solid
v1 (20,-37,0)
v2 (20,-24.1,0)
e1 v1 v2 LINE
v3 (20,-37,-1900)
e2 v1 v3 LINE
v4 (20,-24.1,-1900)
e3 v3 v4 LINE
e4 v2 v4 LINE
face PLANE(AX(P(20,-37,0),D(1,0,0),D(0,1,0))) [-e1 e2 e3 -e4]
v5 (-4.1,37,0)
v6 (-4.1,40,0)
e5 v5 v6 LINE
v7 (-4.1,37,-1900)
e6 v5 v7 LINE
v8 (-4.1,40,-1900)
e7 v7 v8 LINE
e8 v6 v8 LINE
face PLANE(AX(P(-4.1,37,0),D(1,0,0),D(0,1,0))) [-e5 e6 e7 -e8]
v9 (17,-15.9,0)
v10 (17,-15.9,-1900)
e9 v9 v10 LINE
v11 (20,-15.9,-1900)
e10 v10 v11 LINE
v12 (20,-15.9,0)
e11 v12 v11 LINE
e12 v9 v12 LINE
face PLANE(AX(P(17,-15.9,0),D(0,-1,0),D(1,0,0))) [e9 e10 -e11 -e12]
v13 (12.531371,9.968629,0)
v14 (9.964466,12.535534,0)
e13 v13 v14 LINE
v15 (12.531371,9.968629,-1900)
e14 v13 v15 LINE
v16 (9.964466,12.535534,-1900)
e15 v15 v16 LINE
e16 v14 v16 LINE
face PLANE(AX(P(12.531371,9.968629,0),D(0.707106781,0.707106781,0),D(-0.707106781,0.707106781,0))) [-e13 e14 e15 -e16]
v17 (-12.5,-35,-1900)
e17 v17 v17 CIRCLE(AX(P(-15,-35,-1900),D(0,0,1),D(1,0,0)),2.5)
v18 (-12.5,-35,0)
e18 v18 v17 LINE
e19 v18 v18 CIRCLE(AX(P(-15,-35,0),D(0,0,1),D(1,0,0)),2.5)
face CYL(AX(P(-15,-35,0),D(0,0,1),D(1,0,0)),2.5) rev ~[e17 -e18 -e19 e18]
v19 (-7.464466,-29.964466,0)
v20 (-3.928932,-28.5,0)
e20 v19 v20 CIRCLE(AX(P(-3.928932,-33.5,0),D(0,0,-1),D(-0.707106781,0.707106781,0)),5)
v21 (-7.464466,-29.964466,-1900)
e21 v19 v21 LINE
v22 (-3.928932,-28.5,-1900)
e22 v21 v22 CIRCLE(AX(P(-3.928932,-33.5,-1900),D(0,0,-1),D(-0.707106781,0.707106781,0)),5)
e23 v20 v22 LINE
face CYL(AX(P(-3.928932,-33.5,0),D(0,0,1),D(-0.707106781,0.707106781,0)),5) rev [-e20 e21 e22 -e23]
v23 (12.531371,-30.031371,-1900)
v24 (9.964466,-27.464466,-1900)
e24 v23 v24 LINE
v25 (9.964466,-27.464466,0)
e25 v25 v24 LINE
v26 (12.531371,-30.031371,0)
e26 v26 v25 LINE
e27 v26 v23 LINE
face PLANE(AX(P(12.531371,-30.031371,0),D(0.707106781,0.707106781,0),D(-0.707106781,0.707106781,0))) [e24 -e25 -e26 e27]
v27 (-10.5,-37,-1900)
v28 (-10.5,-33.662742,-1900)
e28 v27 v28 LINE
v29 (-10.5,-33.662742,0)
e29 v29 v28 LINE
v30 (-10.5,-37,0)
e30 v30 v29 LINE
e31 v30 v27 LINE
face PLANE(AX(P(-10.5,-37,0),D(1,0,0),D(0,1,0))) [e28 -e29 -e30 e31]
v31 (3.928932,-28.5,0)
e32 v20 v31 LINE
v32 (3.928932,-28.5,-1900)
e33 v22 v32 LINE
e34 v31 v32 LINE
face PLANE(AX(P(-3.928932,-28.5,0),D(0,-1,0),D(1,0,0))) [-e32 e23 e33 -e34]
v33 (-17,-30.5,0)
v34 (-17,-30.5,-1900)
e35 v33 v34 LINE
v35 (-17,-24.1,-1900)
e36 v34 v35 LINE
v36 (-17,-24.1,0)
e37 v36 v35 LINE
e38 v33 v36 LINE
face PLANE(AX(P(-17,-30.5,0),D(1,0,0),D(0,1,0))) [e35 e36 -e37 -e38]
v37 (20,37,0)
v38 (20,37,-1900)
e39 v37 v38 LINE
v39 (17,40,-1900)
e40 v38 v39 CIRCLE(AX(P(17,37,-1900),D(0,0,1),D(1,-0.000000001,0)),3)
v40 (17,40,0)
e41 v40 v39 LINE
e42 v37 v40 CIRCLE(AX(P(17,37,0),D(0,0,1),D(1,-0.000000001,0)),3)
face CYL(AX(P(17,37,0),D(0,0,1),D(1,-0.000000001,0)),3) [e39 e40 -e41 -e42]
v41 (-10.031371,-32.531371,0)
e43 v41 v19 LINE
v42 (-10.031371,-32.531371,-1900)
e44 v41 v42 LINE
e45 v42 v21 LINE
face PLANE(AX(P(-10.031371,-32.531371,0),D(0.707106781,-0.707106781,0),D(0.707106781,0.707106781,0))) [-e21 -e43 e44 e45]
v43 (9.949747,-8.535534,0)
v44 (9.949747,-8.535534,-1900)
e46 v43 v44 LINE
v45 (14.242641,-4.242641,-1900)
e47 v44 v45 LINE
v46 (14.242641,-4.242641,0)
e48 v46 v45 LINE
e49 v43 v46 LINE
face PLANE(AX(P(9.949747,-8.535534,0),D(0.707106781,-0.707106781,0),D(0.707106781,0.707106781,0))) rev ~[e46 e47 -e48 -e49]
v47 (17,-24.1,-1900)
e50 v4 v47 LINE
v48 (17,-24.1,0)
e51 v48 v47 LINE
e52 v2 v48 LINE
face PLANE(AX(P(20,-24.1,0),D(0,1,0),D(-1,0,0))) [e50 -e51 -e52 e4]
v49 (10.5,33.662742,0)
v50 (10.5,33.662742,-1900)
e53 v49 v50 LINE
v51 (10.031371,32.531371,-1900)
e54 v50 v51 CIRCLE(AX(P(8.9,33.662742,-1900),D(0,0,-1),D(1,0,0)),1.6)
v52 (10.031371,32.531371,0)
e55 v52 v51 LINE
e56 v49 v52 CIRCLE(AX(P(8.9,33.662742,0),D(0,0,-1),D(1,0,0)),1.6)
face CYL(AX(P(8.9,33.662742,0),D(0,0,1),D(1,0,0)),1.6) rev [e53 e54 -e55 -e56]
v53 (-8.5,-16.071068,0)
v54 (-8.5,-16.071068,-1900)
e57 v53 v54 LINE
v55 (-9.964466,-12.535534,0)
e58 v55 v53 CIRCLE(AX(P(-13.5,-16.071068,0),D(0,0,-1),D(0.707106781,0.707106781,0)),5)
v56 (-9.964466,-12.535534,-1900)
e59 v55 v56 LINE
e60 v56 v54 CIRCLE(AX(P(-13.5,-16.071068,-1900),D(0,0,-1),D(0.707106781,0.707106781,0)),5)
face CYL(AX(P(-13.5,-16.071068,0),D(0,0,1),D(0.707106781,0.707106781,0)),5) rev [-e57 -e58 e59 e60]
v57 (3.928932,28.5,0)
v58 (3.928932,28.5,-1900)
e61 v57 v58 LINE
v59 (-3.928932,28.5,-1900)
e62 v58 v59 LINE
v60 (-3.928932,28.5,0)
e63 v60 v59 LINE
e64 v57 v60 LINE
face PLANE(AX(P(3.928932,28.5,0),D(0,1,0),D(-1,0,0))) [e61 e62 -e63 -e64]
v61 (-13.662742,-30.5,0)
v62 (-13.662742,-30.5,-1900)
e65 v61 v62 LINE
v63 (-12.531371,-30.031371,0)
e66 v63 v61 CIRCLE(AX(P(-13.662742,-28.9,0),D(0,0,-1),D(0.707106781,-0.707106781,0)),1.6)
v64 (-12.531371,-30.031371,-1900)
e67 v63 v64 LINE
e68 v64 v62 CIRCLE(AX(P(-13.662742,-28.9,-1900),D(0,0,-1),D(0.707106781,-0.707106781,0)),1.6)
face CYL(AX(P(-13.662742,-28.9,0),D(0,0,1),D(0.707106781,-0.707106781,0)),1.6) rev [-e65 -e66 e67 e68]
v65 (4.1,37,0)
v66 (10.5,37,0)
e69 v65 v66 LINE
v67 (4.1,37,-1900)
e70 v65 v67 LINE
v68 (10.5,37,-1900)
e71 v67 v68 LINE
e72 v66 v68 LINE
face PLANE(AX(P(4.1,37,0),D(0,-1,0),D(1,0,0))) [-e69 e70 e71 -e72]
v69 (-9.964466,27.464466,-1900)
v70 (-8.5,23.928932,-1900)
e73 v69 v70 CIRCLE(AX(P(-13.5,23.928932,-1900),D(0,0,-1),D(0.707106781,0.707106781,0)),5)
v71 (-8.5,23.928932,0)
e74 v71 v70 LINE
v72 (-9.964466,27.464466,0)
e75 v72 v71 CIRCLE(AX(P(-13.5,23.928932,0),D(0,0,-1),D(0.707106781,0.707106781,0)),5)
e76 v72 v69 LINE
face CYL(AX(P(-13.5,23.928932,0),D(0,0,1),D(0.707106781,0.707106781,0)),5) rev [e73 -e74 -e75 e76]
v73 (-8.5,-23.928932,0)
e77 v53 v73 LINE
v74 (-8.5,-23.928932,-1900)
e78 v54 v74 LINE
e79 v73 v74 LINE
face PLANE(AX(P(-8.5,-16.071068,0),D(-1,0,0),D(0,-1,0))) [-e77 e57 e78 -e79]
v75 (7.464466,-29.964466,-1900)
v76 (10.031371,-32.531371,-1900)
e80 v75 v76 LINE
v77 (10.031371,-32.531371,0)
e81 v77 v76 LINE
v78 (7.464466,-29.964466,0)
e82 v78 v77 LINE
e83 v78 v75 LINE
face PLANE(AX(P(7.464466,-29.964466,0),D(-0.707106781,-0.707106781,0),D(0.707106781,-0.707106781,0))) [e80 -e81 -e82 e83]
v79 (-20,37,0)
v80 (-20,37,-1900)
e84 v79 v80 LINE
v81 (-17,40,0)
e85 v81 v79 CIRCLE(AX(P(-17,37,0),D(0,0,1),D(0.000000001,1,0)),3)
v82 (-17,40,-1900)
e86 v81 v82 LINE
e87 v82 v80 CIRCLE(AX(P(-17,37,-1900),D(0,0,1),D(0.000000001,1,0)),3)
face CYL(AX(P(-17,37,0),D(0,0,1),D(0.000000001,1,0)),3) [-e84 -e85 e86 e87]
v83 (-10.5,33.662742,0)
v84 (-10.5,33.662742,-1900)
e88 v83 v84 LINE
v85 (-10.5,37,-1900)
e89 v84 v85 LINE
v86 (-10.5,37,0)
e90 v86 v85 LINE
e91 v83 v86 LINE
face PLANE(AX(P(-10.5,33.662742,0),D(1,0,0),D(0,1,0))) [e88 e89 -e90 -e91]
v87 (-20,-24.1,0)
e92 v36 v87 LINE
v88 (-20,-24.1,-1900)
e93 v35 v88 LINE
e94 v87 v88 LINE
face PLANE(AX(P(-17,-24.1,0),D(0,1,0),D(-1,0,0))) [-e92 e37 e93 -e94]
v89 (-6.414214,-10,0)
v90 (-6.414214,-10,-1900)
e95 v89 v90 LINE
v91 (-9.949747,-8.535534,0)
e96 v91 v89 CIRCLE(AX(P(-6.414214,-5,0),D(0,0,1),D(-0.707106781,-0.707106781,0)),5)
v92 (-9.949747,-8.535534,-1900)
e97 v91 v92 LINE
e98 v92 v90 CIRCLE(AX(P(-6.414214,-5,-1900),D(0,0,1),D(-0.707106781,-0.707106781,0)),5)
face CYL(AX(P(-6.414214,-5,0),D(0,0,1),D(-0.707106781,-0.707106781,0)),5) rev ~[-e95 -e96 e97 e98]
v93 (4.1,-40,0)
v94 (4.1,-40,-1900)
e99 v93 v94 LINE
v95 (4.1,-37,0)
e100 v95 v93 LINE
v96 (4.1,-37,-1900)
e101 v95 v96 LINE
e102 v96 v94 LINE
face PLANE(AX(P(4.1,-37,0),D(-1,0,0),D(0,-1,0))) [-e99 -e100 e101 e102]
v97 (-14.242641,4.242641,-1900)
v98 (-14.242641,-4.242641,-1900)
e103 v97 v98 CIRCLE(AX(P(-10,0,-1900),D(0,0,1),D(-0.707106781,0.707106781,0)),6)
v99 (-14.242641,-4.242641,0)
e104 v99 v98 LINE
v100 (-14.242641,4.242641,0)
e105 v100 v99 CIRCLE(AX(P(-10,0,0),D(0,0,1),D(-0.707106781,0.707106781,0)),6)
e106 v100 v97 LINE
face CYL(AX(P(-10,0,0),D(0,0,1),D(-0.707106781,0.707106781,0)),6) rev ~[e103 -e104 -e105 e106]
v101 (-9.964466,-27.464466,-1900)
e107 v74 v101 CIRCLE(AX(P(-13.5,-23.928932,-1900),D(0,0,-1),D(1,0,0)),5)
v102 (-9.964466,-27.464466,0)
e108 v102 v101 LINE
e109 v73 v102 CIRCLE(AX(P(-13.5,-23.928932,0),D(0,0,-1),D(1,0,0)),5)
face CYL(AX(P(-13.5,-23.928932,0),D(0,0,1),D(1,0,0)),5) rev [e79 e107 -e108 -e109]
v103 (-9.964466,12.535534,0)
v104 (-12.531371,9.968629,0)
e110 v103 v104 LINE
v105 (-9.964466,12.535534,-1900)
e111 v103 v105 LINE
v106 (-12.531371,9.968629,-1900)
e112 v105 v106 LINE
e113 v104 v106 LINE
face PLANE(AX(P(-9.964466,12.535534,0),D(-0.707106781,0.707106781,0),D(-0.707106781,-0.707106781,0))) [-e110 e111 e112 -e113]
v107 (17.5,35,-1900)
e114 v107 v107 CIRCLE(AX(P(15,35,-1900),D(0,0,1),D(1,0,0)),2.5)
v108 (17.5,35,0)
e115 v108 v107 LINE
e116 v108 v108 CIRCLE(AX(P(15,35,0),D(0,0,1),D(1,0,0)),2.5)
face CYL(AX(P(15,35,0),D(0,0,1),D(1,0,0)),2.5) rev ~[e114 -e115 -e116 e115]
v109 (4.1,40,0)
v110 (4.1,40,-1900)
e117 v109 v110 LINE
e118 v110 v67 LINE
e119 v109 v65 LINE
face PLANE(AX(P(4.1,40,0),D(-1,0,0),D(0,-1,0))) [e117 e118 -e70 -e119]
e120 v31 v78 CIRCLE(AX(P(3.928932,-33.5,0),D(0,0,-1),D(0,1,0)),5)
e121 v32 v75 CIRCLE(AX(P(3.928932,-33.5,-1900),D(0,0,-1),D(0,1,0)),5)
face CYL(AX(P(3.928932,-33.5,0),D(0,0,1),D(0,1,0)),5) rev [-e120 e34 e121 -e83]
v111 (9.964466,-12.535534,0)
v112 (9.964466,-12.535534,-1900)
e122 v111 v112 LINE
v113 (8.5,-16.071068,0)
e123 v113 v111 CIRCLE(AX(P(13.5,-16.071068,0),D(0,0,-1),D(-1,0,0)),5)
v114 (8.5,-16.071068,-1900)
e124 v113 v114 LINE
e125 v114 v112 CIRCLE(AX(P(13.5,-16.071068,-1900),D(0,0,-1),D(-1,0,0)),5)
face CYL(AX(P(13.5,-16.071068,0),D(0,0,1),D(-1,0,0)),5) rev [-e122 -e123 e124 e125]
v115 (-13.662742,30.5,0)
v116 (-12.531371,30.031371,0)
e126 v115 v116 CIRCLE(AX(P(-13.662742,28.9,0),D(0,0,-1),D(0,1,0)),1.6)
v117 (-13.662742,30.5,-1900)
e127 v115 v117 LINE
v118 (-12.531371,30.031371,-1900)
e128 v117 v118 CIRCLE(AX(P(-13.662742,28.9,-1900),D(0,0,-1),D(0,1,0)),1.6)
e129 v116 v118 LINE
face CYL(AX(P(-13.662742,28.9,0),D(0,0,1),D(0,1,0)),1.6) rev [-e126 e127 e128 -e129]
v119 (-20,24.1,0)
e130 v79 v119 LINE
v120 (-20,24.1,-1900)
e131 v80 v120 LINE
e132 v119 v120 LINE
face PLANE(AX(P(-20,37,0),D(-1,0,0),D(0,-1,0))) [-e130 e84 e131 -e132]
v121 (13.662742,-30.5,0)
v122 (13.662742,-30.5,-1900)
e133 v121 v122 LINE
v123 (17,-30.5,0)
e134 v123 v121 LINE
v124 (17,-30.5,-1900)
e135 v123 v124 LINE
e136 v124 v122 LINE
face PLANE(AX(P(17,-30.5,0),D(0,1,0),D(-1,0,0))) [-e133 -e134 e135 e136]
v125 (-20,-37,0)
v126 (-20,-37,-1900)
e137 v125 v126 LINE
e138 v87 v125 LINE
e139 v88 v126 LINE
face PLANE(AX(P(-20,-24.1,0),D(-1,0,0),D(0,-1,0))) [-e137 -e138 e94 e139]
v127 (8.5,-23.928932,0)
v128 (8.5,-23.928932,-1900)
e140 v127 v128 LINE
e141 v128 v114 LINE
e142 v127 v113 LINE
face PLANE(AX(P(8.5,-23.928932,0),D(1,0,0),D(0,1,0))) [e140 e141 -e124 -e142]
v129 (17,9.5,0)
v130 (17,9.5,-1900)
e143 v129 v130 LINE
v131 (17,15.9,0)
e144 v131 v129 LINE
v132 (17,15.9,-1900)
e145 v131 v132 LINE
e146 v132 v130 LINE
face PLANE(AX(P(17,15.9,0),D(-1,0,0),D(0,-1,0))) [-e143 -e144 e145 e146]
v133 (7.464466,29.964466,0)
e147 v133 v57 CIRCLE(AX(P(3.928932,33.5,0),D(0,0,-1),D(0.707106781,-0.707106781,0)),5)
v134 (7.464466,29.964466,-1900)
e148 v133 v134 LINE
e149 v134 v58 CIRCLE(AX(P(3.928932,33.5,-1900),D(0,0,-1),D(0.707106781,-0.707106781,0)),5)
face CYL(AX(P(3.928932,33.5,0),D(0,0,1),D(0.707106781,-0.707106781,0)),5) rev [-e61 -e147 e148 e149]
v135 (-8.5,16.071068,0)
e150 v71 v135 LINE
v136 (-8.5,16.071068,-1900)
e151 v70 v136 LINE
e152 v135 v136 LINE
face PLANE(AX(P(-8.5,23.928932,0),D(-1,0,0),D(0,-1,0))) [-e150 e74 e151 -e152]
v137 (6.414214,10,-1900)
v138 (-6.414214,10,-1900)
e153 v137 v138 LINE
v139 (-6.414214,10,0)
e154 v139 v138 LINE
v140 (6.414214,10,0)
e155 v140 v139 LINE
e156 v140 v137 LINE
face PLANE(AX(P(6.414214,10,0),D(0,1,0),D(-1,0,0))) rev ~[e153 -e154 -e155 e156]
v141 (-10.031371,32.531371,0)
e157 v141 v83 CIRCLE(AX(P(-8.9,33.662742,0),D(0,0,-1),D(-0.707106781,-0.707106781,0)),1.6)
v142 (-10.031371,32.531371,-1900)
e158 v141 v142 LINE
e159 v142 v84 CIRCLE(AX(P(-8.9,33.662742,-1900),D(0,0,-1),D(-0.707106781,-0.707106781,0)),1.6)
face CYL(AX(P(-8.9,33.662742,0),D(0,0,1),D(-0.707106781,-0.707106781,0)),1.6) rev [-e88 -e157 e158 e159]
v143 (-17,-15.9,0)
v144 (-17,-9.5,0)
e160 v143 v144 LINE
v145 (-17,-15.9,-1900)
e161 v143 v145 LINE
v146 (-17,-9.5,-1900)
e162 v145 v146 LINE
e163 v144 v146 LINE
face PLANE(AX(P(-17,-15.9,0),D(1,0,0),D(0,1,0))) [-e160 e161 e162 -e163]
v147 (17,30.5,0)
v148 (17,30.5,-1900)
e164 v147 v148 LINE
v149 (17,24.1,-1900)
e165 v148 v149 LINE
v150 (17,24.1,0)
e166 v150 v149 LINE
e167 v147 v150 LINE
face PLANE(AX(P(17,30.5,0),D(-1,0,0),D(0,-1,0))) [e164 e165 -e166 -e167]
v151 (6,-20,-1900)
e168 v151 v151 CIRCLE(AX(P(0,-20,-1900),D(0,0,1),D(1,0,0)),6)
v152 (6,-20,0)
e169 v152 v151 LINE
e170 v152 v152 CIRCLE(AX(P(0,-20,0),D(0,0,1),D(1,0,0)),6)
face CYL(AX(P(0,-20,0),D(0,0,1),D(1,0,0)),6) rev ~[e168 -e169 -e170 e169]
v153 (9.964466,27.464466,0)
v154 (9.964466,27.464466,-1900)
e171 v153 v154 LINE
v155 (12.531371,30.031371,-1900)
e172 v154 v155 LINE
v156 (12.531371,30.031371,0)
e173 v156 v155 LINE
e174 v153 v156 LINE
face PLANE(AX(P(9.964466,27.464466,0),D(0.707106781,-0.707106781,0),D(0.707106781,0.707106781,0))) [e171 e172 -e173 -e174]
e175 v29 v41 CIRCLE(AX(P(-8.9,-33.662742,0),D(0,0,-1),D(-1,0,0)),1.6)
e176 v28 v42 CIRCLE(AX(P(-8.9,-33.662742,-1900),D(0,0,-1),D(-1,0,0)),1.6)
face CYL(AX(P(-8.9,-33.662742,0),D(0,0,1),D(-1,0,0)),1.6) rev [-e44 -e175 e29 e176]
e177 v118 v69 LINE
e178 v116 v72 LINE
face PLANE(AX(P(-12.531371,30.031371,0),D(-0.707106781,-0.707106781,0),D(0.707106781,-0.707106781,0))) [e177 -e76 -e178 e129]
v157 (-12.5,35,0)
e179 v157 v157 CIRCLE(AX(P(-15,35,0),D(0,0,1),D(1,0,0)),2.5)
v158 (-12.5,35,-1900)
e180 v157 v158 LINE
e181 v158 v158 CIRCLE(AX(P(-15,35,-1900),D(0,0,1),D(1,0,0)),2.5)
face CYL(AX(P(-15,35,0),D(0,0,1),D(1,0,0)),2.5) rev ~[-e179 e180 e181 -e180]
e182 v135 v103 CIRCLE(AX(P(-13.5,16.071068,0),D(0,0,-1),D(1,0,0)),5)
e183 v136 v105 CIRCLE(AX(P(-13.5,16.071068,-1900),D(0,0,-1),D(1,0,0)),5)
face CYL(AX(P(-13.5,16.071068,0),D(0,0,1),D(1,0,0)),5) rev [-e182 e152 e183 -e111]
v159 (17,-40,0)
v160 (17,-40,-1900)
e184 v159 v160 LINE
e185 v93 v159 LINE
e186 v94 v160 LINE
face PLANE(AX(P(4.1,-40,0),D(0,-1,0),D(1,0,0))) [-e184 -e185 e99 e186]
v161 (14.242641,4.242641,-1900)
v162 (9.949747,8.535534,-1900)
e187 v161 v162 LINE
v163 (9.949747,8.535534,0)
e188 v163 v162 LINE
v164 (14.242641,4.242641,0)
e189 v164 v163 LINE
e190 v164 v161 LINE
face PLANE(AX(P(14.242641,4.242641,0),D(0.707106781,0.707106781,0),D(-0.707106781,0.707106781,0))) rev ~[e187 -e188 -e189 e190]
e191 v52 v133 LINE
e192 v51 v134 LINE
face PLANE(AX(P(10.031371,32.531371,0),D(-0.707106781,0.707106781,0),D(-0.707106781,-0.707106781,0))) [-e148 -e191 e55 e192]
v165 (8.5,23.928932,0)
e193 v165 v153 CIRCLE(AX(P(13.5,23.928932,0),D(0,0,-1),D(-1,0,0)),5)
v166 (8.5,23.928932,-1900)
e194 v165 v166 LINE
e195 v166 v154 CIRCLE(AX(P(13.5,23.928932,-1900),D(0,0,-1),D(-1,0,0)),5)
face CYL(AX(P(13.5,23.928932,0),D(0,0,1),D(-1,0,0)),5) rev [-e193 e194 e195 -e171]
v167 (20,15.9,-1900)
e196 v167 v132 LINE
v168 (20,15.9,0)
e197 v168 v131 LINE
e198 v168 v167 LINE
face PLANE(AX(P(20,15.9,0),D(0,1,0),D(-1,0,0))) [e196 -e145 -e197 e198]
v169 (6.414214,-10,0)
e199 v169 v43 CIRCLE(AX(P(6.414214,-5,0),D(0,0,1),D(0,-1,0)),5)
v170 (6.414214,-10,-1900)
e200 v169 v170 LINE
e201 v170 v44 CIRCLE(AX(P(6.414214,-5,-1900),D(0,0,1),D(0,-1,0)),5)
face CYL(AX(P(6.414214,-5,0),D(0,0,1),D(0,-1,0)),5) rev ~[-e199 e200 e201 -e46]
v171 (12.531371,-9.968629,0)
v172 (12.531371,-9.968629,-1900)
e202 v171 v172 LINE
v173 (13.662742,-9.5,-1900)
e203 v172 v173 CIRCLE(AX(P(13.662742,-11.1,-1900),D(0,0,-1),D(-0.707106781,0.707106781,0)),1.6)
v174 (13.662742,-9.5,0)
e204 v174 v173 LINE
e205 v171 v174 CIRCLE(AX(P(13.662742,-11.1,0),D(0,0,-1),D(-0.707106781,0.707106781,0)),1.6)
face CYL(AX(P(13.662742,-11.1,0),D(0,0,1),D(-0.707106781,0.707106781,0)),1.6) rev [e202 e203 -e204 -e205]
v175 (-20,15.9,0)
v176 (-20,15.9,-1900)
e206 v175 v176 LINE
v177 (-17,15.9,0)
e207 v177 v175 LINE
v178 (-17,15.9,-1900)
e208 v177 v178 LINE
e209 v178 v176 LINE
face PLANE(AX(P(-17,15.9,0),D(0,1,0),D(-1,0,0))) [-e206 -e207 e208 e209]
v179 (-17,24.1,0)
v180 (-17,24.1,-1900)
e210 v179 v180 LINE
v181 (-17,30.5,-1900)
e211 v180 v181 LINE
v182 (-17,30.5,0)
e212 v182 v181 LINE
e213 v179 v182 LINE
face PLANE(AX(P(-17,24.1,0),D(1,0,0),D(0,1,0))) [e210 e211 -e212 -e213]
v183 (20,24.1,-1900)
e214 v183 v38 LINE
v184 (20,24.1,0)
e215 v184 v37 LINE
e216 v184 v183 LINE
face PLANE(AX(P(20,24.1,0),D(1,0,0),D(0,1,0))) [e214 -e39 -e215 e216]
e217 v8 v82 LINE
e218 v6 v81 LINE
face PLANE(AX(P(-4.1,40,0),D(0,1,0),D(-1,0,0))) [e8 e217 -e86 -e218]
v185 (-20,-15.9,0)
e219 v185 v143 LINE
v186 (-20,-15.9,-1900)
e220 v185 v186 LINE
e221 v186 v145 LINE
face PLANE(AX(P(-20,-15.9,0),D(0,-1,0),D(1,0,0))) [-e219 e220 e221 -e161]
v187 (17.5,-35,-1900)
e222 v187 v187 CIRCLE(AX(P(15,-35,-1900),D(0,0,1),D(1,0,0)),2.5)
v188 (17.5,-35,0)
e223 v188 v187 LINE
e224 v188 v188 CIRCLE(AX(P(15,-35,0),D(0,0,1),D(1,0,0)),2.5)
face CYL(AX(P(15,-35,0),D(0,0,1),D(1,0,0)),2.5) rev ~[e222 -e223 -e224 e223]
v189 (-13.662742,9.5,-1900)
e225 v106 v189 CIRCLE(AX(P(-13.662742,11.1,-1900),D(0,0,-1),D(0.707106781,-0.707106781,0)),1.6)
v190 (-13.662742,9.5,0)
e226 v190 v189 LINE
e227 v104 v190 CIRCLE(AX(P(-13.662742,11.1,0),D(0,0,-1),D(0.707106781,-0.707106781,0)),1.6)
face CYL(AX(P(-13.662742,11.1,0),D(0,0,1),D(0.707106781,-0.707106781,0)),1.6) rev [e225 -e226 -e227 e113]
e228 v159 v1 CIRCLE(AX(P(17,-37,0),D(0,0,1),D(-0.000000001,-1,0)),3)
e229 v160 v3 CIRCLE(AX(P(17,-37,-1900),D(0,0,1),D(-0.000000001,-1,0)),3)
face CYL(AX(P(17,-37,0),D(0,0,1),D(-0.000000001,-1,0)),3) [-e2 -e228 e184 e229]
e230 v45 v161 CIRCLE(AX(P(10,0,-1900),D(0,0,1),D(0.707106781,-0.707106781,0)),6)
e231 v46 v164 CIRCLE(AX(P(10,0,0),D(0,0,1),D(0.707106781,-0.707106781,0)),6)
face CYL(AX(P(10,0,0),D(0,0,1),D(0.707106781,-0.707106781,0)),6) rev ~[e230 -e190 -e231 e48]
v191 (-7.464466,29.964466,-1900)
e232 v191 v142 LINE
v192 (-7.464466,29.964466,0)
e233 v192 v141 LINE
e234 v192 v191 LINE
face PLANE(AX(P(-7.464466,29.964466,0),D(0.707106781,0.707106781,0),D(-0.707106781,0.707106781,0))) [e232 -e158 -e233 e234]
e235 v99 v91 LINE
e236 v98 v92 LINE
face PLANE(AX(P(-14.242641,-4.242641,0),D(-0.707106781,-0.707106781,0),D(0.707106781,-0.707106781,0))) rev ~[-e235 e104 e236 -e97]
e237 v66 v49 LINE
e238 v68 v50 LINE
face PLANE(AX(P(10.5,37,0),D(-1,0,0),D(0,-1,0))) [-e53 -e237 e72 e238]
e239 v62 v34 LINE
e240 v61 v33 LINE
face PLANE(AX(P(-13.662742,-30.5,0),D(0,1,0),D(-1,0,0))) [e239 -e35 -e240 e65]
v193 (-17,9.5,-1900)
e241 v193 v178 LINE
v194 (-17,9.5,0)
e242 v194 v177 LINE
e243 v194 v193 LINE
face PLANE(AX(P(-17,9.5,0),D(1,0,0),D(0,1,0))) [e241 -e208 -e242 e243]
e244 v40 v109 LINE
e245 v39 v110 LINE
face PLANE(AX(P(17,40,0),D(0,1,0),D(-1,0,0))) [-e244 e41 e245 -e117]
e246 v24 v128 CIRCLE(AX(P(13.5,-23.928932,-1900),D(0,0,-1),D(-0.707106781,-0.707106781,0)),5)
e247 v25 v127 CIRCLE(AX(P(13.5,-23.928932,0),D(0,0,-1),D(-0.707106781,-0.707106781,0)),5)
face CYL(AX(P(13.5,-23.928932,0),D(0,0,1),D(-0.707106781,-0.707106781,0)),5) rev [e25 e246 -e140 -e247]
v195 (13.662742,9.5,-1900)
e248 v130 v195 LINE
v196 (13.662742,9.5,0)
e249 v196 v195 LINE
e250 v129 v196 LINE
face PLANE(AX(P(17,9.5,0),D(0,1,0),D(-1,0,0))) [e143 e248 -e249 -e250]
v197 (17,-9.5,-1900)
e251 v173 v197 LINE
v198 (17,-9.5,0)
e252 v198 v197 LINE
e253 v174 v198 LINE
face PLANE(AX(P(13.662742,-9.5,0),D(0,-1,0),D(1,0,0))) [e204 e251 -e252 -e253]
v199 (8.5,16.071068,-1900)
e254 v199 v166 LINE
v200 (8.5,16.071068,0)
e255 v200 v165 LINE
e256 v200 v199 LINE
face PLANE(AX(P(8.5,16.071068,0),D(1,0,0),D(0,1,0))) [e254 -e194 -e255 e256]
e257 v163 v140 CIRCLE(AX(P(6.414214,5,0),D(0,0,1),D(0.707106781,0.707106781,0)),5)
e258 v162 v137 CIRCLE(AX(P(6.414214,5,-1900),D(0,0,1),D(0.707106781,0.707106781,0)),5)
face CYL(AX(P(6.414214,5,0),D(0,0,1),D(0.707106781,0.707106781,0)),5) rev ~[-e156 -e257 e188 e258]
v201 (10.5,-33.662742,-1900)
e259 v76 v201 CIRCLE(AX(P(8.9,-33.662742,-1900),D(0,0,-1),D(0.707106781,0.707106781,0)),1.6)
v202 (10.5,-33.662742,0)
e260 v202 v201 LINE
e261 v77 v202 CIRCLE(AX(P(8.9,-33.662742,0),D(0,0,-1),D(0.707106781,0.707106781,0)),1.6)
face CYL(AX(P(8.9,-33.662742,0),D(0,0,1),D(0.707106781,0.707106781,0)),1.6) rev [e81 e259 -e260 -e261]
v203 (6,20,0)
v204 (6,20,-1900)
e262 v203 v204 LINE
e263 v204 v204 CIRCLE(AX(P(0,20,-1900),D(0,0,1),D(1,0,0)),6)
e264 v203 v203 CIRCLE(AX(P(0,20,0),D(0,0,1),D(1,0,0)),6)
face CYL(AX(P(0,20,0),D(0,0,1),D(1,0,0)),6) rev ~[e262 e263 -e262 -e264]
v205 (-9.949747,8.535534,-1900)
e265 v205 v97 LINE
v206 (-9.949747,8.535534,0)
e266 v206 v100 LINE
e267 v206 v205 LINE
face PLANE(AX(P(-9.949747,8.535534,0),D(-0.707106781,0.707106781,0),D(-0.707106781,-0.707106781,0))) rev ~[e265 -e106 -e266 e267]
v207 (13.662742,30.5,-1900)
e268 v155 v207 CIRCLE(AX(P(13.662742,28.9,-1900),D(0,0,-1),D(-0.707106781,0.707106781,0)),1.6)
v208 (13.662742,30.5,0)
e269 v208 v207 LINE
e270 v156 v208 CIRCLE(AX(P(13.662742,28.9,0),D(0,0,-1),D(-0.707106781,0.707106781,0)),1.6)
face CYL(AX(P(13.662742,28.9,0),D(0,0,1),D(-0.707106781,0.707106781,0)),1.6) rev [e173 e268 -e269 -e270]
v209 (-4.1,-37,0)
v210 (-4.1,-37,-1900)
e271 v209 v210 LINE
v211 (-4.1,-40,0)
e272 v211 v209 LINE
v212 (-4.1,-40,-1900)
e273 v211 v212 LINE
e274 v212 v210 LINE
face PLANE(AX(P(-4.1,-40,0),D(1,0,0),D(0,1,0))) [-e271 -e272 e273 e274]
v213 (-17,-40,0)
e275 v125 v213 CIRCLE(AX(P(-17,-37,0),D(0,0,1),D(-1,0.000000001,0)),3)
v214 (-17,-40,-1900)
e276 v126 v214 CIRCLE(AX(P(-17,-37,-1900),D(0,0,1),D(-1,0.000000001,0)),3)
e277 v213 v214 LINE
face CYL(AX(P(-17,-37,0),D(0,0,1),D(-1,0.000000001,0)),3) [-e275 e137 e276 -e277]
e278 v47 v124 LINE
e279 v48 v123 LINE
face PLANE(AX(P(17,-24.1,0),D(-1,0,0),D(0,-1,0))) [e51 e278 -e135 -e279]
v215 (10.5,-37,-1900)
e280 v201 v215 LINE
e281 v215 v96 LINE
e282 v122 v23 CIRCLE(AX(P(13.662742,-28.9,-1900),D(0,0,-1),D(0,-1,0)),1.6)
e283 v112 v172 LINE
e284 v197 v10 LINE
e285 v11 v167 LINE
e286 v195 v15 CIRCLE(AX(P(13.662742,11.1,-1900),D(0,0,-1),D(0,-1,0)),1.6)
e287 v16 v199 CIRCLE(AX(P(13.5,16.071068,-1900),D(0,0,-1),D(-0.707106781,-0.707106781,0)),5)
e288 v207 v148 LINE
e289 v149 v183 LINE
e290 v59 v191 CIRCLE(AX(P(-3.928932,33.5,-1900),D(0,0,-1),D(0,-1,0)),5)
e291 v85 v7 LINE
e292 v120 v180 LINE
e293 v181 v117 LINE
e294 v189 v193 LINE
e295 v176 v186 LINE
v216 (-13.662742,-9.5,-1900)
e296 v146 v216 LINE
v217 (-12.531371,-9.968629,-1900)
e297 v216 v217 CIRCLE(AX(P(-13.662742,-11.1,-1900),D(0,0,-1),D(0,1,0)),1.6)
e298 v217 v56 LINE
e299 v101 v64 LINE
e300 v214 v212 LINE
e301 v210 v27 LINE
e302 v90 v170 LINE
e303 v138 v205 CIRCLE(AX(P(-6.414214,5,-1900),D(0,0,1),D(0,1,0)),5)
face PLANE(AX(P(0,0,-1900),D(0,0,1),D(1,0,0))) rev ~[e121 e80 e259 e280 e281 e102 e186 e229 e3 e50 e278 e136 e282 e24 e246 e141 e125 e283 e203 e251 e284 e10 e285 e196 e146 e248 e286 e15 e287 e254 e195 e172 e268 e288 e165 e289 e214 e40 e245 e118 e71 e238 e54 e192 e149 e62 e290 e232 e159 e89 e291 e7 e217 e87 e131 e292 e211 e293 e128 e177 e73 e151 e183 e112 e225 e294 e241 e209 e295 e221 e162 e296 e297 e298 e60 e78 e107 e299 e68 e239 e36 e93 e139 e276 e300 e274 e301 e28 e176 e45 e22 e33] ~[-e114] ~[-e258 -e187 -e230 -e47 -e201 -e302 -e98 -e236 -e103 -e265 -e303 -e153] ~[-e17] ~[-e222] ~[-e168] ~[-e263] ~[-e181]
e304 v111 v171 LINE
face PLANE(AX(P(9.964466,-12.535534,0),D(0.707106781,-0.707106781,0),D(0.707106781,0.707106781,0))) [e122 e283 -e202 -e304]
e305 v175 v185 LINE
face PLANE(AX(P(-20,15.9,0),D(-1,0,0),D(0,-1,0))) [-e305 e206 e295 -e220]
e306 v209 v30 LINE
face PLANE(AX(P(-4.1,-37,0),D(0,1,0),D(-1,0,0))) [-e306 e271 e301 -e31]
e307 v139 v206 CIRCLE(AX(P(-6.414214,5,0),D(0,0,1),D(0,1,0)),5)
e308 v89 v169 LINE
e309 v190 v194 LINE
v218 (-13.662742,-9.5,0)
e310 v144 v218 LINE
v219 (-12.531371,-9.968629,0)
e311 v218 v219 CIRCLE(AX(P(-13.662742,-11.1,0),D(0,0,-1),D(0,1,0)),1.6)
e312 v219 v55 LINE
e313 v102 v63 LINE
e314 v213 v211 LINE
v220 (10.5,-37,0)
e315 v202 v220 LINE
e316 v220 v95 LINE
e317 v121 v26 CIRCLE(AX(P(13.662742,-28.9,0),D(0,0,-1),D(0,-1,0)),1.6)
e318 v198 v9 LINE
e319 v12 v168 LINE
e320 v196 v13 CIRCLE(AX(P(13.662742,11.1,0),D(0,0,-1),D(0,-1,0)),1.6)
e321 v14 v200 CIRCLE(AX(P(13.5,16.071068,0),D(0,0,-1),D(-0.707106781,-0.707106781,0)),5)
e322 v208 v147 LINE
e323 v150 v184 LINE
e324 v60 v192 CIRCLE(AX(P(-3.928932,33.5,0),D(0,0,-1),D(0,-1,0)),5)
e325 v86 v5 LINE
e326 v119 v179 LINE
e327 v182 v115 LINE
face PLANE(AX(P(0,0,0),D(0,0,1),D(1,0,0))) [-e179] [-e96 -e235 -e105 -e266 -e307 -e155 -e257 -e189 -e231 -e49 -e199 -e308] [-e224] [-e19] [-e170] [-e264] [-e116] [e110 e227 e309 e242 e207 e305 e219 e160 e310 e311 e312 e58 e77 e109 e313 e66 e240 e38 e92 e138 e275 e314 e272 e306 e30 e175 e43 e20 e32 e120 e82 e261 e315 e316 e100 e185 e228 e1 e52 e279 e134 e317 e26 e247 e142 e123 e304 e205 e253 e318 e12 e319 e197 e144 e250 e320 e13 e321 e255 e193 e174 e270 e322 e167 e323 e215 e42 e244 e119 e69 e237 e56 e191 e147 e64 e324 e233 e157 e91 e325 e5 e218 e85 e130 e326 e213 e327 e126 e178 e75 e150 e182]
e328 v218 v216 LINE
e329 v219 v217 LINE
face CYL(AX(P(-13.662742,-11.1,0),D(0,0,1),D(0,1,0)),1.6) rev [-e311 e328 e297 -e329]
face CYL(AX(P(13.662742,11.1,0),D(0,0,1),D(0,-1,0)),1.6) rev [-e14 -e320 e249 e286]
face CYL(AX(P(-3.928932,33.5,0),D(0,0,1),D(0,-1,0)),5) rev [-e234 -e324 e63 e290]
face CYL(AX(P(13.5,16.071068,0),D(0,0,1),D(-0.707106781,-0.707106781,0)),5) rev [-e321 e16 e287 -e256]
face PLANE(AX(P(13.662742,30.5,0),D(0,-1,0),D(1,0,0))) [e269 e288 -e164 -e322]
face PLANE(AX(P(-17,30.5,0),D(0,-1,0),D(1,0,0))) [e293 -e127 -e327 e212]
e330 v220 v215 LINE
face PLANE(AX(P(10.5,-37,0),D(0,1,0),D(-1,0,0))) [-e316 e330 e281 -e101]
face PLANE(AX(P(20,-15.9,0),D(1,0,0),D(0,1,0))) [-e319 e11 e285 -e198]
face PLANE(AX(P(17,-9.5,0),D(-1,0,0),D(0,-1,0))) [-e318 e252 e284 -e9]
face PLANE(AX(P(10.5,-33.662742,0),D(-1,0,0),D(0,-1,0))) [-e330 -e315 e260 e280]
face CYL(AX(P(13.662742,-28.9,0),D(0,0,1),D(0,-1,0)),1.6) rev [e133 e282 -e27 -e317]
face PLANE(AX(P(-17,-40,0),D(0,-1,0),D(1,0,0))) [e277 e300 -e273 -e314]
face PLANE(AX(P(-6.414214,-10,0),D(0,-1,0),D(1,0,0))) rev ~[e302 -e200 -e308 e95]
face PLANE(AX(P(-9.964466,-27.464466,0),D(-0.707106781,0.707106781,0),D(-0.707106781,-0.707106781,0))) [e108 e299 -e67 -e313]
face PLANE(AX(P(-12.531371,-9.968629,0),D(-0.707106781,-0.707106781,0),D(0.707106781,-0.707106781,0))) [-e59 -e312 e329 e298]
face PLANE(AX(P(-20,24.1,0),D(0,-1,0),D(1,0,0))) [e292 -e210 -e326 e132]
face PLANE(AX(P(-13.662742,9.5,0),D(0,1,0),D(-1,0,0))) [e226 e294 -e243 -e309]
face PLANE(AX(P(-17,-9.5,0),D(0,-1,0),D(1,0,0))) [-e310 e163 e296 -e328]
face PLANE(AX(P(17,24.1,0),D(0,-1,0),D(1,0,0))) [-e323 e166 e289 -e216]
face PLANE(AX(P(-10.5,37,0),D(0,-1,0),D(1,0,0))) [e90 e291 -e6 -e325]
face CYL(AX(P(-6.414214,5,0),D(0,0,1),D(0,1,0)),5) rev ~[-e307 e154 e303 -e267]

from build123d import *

# Parameters (mm, degrees)
SKETCH1_R           = 2.5
SKETCH1_R_2         = 6
BOSS_EXTRUDE1_DEPTH = 1900


with BuildPart() as part:
    # Sketch1 → Boss-Extrude1 (new body)
    with BuildSketch(Plane.XY):
        with BuildLine():
            Line((-17, -40), (-4.1, -40))
            Line((-4.1, -40), (-4.1, -37))
            Line((-4.1, -37), (-10.5, -37))
            Line((-10.5, -37), (-10.5, -33.6627417))
            ThreePointArc((-10.5, -33.6627417), (-10.378207252, -33.050448208), (-10.03137085, -32.53137085))
            Line((-10.03137085, -32.53137085), (-7.464466094, -29.964466094))
            ThreePointArc((-7.464466094, -29.964466094), (-5.84234935, -28.880602337), (-3.928932188, -28.5))
            Line((-3.928932188, -28.5), (3.928932188, -28.5))
            ThreePointArc((3.928932188, -28.5), (5.84234935, -28.880602337), (7.464466094, -29.964466094))
            Line((7.464466094, -29.964466094), (10.03137085, -32.53137085))
            ThreePointArc((10.03137085, -32.53137085), (10.378207252, -33.050448208), (10.5, -33.6627417))
            Line((10.5, -33.6627417), (10.5, -37))
            Line((10.5, -37), (4.1, -37))
            Line((4.1, -37), (4.1, -40))
            Line((4.1, -40), (17, -40))
            ThreePointArc((17, -40), (19.121320344, -39.121320344), (20, -37))
            Line((20, -37), (20, -24.1))
            Line((20, -24.1), (17, -24.1))
            Line((17, -24.1), (17, -30.5))
            Line((17, -30.5), (13.6627417, -30.5))
            ThreePointArc((13.6627417, -30.5), (13.050448208, -30.378207252), (12.53137085, -30.03137085))
            Line((12.53137085, -30.03137085), (9.964466094, -27.464466094))
            ThreePointArc((9.964466094, -27.464466094), (8.880602337, -25.84234935), (8.5, -23.928932188))
            Line((8.5, -23.928932188), (8.5, -16.071067812))
            ThreePointArc((8.5, -16.071067812), (8.880602337, -14.15765065), (9.964466094, -12.535533906))
            Line((9.964466094, -12.535533906), (12.53137085, -9.96862915))
            ThreePointArc((12.53137085, -9.96862915), (13.050448208, -9.621792748), (13.6627417, -9.5))
            Line((13.6627417, -9.5), (17, -9.5))
            Line((17, -9.5), (17, -15.9))
            Line((17, -15.9), (20, -15.9))
            Line((20, -15.9), (20, 15.9))
            Line((20, 15.9), (17, 15.9))
            Line((17, 15.9), (17, 9.5))
            Line((17, 9.5), (13.6627417, 9.5))
            ThreePointArc((13.6627417, 9.5), (13.050448208, 9.621792748), (12.53137085, 9.96862915))
            Line((12.53137085, 9.96862915), (9.964466094, 12.535533906))
            ThreePointArc((9.964466094, 12.535533906), (8.880602337, 14.15765065), (8.5, 16.071067812))
            Line((8.5, 16.071067812), (8.5, 23.928932188))
            ThreePointArc((8.5, 23.928932188), (8.880602337, 25.84234935), (9.964466094, 27.464466094))
            Line((9.964466094, 27.464466094), (12.53137085, 30.03137085))
            ThreePointArc((12.53137085, 30.03137085), (13.050448208, 30.378207252), (13.6627417, 30.5))
            Line((13.6627417, 30.5), (17, 30.5))
            Line((17, 30.5), (17, 24.1))
            Line((17, 24.1), (20, 24.1))
            Line((20, 24.1), (20, 37))
            ThreePointArc((20, 37), (19.121320344, 39.121320344), (17, 40))
            Line((17, 40), (4.1, 40))
            Line((4.1, 40), (4.1, 37))
            Line((4.1, 37), (10.5, 37))
            Line((10.5, 37), (10.5, 33.6627417))
            ThreePointArc((10.5, 33.6627417), (10.378207252, 33.050448208), (10.03137085, 32.53137085))
            Line((10.03137085, 32.53137085), (7.464466094, 29.964466094))
            ThreePointArc((7.464466094, 29.964466094), (5.84234935, 28.880602337), (3.928932188, 28.5))
            Line((3.928932188, 28.5), (-3.928932188, 28.5))
            ThreePointArc((-3.928932188, 28.5), (-5.84234935, 28.880602337), (-7.464466094, 29.964466094))
            Line((-7.464466094, 29.964466094), (-10.03137085, 32.53137085))
            ThreePointArc((-10.03137085, 32.53137085), (-10.378207252, 33.050448208), (-10.5, 33.6627417))
            Line((-10.5, 33.6627417), (-10.5, 37))
            Line((-10.5, 37), (-4.1, 37))
            Line((-4.1, 37), (-4.1, 40))
            Line((-4.1, 40), (-17, 40))
            ThreePointArc((-17, 40), (-19.121320344, 39.121320344), (-20, 37))
            Line((-20, 37), (-20, 24.1))
            Line((-20, 24.1), (-17, 24.1))
            Line((-17, 24.1), (-17, 30.5))
            Line((-17, 30.5), (-13.6627417, 30.5))
            ThreePointArc((-13.6627417, 30.5), (-13.050448208, 30.378207252), (-12.53137085, 30.03137085))
            Line((-12.53137085, 30.03137085), (-9.964466094, 27.464466094))
            ThreePointArc((-9.964466094, 27.464466094), (-8.880602337, 25.84234935), (-8.5, 23.928932188))
            Line((-8.5, 23.928932188), (-8.5, 16.071067812))
            ThreePointArc((-8.5, 16.071067812), (-8.880602337, 14.15765065), (-9.964466094, 12.535533906))
            Line((-9.964466094, 12.535533906), (-12.53137085, 9.96862915))
            ThreePointArc((-12.53137085, 9.96862915), (-13.050448208, 9.621792748), (-13.6627417, 9.5))
            Line((-13.6627417, 9.5), (-17, 9.5))
            Line((-17, 9.5), (-17, 15.9))
            Line((-17, 15.9), (-20, 15.9))
            Line((-20, 15.9), (-20, -15.9))
            Line((-20, -15.9), (-17, -15.9))
            Line((-17, -15.9), (-17, -9.5))
            Line((-17, -9.5), (-13.6627417, -9.5))
            ThreePointArc((-13.6627417, -9.5), (-13.050448208, -9.621792748), (-12.53137085, -9.96862915))
            Line((-12.53137085, -9.96862915), (-9.964466094, -12.535533906))
            ThreePointArc((-9.964466094, -12.535533906), (-8.880602337, -14.15765065), (-8.5, -16.071067812))
            Line((-8.5, -16.071067812), (-8.5, -23.928932188))
            ThreePointArc((-8.5, -23.928932188), (-8.880602337, -25.84234935), (-9.964466094, -27.464466094))
            Line((-9.964466094, -27.464466094), (-12.53137085, -30.03137085))
            ThreePointArc((-12.53137085, -30.03137085), (-13.050448208, -30.378207252), (-13.6627417, -30.5))
            Line((-13.6627417, -30.5), (-17, -30.5))
            Line((-17, -30.5), (-17, -24.1))
            Line((-17, -24.1), (-20, -24.1))
            Line((-20, -24.1), (-20, -37))
            ThreePointArc((-20, -37), (-19.121320344, -39.121320344), (-17, -40))
        make_face()
        with Locations((15, 35)):
            Circle(SKETCH1_R, mode=Mode.SUBTRACT)
        with Locations((15, -35)):
            Circle(SKETCH1_R, mode=Mode.SUBTRACT)
        with Locations((0, 20)):
            Circle(SKETCH1_R_2, mode=Mode.SUBTRACT)
        with Locations((0, -20)):
            Circle(SKETCH1_R_2, mode=Mode.SUBTRACT)
        with Locations((-15, 35)):
            Circle(SKETCH1_R, mode=Mode.SUBTRACT)
        with Locations((-15, -35)):
            Circle(SKETCH1_R, mode=Mode.SUBTRACT)
        with BuildLine():
            Line((-14.242640687, -4.242640687), (-9.949747468, -8.535533906))
            ThreePointArc((-9.949747468, -8.535533906), (-8.327630724, -9.619397663), (-6.414213562, -10))
            Line((-6.414213562, -10), (6.414213562, -10))
            ThreePointArc((6.414213562, -10), (8.327630724, -9.619397663), (9.949747468, -8.535533906))
            Line((9.949747468, -8.535533906), (14.242640687, -4.242640687))
            ThreePointArc((14.242640687, -4.242640687), (16, 0), (14.242640687, 4.242640687))
            Line((14.242640687, 4.242640687), (9.949747468, 8.535533906))
            ThreePointArc((9.949747468, 8.535533906), (8.327630724, 9.619397663), (6.414213562, 10))
            Line((6.414213562, 10), (-6.414213562, 10))
            ThreePointArc((-6.414213562, 10), (-8.327630724, 9.619397663), (-9.949747468, 8.535533906))
            Line((-9.949747468, 8.535533906), (-14.242640687, 4.242640687))
            ThreePointArc((-14.242640687, 4.242640687), (-16, 0), (-14.242640687, -4.242640687))
        make_face(mode=Mode.SUBTRACT)
    extrude(amount=-BOSS_EXTRUDE1_DEPTH)


solid = part.part
